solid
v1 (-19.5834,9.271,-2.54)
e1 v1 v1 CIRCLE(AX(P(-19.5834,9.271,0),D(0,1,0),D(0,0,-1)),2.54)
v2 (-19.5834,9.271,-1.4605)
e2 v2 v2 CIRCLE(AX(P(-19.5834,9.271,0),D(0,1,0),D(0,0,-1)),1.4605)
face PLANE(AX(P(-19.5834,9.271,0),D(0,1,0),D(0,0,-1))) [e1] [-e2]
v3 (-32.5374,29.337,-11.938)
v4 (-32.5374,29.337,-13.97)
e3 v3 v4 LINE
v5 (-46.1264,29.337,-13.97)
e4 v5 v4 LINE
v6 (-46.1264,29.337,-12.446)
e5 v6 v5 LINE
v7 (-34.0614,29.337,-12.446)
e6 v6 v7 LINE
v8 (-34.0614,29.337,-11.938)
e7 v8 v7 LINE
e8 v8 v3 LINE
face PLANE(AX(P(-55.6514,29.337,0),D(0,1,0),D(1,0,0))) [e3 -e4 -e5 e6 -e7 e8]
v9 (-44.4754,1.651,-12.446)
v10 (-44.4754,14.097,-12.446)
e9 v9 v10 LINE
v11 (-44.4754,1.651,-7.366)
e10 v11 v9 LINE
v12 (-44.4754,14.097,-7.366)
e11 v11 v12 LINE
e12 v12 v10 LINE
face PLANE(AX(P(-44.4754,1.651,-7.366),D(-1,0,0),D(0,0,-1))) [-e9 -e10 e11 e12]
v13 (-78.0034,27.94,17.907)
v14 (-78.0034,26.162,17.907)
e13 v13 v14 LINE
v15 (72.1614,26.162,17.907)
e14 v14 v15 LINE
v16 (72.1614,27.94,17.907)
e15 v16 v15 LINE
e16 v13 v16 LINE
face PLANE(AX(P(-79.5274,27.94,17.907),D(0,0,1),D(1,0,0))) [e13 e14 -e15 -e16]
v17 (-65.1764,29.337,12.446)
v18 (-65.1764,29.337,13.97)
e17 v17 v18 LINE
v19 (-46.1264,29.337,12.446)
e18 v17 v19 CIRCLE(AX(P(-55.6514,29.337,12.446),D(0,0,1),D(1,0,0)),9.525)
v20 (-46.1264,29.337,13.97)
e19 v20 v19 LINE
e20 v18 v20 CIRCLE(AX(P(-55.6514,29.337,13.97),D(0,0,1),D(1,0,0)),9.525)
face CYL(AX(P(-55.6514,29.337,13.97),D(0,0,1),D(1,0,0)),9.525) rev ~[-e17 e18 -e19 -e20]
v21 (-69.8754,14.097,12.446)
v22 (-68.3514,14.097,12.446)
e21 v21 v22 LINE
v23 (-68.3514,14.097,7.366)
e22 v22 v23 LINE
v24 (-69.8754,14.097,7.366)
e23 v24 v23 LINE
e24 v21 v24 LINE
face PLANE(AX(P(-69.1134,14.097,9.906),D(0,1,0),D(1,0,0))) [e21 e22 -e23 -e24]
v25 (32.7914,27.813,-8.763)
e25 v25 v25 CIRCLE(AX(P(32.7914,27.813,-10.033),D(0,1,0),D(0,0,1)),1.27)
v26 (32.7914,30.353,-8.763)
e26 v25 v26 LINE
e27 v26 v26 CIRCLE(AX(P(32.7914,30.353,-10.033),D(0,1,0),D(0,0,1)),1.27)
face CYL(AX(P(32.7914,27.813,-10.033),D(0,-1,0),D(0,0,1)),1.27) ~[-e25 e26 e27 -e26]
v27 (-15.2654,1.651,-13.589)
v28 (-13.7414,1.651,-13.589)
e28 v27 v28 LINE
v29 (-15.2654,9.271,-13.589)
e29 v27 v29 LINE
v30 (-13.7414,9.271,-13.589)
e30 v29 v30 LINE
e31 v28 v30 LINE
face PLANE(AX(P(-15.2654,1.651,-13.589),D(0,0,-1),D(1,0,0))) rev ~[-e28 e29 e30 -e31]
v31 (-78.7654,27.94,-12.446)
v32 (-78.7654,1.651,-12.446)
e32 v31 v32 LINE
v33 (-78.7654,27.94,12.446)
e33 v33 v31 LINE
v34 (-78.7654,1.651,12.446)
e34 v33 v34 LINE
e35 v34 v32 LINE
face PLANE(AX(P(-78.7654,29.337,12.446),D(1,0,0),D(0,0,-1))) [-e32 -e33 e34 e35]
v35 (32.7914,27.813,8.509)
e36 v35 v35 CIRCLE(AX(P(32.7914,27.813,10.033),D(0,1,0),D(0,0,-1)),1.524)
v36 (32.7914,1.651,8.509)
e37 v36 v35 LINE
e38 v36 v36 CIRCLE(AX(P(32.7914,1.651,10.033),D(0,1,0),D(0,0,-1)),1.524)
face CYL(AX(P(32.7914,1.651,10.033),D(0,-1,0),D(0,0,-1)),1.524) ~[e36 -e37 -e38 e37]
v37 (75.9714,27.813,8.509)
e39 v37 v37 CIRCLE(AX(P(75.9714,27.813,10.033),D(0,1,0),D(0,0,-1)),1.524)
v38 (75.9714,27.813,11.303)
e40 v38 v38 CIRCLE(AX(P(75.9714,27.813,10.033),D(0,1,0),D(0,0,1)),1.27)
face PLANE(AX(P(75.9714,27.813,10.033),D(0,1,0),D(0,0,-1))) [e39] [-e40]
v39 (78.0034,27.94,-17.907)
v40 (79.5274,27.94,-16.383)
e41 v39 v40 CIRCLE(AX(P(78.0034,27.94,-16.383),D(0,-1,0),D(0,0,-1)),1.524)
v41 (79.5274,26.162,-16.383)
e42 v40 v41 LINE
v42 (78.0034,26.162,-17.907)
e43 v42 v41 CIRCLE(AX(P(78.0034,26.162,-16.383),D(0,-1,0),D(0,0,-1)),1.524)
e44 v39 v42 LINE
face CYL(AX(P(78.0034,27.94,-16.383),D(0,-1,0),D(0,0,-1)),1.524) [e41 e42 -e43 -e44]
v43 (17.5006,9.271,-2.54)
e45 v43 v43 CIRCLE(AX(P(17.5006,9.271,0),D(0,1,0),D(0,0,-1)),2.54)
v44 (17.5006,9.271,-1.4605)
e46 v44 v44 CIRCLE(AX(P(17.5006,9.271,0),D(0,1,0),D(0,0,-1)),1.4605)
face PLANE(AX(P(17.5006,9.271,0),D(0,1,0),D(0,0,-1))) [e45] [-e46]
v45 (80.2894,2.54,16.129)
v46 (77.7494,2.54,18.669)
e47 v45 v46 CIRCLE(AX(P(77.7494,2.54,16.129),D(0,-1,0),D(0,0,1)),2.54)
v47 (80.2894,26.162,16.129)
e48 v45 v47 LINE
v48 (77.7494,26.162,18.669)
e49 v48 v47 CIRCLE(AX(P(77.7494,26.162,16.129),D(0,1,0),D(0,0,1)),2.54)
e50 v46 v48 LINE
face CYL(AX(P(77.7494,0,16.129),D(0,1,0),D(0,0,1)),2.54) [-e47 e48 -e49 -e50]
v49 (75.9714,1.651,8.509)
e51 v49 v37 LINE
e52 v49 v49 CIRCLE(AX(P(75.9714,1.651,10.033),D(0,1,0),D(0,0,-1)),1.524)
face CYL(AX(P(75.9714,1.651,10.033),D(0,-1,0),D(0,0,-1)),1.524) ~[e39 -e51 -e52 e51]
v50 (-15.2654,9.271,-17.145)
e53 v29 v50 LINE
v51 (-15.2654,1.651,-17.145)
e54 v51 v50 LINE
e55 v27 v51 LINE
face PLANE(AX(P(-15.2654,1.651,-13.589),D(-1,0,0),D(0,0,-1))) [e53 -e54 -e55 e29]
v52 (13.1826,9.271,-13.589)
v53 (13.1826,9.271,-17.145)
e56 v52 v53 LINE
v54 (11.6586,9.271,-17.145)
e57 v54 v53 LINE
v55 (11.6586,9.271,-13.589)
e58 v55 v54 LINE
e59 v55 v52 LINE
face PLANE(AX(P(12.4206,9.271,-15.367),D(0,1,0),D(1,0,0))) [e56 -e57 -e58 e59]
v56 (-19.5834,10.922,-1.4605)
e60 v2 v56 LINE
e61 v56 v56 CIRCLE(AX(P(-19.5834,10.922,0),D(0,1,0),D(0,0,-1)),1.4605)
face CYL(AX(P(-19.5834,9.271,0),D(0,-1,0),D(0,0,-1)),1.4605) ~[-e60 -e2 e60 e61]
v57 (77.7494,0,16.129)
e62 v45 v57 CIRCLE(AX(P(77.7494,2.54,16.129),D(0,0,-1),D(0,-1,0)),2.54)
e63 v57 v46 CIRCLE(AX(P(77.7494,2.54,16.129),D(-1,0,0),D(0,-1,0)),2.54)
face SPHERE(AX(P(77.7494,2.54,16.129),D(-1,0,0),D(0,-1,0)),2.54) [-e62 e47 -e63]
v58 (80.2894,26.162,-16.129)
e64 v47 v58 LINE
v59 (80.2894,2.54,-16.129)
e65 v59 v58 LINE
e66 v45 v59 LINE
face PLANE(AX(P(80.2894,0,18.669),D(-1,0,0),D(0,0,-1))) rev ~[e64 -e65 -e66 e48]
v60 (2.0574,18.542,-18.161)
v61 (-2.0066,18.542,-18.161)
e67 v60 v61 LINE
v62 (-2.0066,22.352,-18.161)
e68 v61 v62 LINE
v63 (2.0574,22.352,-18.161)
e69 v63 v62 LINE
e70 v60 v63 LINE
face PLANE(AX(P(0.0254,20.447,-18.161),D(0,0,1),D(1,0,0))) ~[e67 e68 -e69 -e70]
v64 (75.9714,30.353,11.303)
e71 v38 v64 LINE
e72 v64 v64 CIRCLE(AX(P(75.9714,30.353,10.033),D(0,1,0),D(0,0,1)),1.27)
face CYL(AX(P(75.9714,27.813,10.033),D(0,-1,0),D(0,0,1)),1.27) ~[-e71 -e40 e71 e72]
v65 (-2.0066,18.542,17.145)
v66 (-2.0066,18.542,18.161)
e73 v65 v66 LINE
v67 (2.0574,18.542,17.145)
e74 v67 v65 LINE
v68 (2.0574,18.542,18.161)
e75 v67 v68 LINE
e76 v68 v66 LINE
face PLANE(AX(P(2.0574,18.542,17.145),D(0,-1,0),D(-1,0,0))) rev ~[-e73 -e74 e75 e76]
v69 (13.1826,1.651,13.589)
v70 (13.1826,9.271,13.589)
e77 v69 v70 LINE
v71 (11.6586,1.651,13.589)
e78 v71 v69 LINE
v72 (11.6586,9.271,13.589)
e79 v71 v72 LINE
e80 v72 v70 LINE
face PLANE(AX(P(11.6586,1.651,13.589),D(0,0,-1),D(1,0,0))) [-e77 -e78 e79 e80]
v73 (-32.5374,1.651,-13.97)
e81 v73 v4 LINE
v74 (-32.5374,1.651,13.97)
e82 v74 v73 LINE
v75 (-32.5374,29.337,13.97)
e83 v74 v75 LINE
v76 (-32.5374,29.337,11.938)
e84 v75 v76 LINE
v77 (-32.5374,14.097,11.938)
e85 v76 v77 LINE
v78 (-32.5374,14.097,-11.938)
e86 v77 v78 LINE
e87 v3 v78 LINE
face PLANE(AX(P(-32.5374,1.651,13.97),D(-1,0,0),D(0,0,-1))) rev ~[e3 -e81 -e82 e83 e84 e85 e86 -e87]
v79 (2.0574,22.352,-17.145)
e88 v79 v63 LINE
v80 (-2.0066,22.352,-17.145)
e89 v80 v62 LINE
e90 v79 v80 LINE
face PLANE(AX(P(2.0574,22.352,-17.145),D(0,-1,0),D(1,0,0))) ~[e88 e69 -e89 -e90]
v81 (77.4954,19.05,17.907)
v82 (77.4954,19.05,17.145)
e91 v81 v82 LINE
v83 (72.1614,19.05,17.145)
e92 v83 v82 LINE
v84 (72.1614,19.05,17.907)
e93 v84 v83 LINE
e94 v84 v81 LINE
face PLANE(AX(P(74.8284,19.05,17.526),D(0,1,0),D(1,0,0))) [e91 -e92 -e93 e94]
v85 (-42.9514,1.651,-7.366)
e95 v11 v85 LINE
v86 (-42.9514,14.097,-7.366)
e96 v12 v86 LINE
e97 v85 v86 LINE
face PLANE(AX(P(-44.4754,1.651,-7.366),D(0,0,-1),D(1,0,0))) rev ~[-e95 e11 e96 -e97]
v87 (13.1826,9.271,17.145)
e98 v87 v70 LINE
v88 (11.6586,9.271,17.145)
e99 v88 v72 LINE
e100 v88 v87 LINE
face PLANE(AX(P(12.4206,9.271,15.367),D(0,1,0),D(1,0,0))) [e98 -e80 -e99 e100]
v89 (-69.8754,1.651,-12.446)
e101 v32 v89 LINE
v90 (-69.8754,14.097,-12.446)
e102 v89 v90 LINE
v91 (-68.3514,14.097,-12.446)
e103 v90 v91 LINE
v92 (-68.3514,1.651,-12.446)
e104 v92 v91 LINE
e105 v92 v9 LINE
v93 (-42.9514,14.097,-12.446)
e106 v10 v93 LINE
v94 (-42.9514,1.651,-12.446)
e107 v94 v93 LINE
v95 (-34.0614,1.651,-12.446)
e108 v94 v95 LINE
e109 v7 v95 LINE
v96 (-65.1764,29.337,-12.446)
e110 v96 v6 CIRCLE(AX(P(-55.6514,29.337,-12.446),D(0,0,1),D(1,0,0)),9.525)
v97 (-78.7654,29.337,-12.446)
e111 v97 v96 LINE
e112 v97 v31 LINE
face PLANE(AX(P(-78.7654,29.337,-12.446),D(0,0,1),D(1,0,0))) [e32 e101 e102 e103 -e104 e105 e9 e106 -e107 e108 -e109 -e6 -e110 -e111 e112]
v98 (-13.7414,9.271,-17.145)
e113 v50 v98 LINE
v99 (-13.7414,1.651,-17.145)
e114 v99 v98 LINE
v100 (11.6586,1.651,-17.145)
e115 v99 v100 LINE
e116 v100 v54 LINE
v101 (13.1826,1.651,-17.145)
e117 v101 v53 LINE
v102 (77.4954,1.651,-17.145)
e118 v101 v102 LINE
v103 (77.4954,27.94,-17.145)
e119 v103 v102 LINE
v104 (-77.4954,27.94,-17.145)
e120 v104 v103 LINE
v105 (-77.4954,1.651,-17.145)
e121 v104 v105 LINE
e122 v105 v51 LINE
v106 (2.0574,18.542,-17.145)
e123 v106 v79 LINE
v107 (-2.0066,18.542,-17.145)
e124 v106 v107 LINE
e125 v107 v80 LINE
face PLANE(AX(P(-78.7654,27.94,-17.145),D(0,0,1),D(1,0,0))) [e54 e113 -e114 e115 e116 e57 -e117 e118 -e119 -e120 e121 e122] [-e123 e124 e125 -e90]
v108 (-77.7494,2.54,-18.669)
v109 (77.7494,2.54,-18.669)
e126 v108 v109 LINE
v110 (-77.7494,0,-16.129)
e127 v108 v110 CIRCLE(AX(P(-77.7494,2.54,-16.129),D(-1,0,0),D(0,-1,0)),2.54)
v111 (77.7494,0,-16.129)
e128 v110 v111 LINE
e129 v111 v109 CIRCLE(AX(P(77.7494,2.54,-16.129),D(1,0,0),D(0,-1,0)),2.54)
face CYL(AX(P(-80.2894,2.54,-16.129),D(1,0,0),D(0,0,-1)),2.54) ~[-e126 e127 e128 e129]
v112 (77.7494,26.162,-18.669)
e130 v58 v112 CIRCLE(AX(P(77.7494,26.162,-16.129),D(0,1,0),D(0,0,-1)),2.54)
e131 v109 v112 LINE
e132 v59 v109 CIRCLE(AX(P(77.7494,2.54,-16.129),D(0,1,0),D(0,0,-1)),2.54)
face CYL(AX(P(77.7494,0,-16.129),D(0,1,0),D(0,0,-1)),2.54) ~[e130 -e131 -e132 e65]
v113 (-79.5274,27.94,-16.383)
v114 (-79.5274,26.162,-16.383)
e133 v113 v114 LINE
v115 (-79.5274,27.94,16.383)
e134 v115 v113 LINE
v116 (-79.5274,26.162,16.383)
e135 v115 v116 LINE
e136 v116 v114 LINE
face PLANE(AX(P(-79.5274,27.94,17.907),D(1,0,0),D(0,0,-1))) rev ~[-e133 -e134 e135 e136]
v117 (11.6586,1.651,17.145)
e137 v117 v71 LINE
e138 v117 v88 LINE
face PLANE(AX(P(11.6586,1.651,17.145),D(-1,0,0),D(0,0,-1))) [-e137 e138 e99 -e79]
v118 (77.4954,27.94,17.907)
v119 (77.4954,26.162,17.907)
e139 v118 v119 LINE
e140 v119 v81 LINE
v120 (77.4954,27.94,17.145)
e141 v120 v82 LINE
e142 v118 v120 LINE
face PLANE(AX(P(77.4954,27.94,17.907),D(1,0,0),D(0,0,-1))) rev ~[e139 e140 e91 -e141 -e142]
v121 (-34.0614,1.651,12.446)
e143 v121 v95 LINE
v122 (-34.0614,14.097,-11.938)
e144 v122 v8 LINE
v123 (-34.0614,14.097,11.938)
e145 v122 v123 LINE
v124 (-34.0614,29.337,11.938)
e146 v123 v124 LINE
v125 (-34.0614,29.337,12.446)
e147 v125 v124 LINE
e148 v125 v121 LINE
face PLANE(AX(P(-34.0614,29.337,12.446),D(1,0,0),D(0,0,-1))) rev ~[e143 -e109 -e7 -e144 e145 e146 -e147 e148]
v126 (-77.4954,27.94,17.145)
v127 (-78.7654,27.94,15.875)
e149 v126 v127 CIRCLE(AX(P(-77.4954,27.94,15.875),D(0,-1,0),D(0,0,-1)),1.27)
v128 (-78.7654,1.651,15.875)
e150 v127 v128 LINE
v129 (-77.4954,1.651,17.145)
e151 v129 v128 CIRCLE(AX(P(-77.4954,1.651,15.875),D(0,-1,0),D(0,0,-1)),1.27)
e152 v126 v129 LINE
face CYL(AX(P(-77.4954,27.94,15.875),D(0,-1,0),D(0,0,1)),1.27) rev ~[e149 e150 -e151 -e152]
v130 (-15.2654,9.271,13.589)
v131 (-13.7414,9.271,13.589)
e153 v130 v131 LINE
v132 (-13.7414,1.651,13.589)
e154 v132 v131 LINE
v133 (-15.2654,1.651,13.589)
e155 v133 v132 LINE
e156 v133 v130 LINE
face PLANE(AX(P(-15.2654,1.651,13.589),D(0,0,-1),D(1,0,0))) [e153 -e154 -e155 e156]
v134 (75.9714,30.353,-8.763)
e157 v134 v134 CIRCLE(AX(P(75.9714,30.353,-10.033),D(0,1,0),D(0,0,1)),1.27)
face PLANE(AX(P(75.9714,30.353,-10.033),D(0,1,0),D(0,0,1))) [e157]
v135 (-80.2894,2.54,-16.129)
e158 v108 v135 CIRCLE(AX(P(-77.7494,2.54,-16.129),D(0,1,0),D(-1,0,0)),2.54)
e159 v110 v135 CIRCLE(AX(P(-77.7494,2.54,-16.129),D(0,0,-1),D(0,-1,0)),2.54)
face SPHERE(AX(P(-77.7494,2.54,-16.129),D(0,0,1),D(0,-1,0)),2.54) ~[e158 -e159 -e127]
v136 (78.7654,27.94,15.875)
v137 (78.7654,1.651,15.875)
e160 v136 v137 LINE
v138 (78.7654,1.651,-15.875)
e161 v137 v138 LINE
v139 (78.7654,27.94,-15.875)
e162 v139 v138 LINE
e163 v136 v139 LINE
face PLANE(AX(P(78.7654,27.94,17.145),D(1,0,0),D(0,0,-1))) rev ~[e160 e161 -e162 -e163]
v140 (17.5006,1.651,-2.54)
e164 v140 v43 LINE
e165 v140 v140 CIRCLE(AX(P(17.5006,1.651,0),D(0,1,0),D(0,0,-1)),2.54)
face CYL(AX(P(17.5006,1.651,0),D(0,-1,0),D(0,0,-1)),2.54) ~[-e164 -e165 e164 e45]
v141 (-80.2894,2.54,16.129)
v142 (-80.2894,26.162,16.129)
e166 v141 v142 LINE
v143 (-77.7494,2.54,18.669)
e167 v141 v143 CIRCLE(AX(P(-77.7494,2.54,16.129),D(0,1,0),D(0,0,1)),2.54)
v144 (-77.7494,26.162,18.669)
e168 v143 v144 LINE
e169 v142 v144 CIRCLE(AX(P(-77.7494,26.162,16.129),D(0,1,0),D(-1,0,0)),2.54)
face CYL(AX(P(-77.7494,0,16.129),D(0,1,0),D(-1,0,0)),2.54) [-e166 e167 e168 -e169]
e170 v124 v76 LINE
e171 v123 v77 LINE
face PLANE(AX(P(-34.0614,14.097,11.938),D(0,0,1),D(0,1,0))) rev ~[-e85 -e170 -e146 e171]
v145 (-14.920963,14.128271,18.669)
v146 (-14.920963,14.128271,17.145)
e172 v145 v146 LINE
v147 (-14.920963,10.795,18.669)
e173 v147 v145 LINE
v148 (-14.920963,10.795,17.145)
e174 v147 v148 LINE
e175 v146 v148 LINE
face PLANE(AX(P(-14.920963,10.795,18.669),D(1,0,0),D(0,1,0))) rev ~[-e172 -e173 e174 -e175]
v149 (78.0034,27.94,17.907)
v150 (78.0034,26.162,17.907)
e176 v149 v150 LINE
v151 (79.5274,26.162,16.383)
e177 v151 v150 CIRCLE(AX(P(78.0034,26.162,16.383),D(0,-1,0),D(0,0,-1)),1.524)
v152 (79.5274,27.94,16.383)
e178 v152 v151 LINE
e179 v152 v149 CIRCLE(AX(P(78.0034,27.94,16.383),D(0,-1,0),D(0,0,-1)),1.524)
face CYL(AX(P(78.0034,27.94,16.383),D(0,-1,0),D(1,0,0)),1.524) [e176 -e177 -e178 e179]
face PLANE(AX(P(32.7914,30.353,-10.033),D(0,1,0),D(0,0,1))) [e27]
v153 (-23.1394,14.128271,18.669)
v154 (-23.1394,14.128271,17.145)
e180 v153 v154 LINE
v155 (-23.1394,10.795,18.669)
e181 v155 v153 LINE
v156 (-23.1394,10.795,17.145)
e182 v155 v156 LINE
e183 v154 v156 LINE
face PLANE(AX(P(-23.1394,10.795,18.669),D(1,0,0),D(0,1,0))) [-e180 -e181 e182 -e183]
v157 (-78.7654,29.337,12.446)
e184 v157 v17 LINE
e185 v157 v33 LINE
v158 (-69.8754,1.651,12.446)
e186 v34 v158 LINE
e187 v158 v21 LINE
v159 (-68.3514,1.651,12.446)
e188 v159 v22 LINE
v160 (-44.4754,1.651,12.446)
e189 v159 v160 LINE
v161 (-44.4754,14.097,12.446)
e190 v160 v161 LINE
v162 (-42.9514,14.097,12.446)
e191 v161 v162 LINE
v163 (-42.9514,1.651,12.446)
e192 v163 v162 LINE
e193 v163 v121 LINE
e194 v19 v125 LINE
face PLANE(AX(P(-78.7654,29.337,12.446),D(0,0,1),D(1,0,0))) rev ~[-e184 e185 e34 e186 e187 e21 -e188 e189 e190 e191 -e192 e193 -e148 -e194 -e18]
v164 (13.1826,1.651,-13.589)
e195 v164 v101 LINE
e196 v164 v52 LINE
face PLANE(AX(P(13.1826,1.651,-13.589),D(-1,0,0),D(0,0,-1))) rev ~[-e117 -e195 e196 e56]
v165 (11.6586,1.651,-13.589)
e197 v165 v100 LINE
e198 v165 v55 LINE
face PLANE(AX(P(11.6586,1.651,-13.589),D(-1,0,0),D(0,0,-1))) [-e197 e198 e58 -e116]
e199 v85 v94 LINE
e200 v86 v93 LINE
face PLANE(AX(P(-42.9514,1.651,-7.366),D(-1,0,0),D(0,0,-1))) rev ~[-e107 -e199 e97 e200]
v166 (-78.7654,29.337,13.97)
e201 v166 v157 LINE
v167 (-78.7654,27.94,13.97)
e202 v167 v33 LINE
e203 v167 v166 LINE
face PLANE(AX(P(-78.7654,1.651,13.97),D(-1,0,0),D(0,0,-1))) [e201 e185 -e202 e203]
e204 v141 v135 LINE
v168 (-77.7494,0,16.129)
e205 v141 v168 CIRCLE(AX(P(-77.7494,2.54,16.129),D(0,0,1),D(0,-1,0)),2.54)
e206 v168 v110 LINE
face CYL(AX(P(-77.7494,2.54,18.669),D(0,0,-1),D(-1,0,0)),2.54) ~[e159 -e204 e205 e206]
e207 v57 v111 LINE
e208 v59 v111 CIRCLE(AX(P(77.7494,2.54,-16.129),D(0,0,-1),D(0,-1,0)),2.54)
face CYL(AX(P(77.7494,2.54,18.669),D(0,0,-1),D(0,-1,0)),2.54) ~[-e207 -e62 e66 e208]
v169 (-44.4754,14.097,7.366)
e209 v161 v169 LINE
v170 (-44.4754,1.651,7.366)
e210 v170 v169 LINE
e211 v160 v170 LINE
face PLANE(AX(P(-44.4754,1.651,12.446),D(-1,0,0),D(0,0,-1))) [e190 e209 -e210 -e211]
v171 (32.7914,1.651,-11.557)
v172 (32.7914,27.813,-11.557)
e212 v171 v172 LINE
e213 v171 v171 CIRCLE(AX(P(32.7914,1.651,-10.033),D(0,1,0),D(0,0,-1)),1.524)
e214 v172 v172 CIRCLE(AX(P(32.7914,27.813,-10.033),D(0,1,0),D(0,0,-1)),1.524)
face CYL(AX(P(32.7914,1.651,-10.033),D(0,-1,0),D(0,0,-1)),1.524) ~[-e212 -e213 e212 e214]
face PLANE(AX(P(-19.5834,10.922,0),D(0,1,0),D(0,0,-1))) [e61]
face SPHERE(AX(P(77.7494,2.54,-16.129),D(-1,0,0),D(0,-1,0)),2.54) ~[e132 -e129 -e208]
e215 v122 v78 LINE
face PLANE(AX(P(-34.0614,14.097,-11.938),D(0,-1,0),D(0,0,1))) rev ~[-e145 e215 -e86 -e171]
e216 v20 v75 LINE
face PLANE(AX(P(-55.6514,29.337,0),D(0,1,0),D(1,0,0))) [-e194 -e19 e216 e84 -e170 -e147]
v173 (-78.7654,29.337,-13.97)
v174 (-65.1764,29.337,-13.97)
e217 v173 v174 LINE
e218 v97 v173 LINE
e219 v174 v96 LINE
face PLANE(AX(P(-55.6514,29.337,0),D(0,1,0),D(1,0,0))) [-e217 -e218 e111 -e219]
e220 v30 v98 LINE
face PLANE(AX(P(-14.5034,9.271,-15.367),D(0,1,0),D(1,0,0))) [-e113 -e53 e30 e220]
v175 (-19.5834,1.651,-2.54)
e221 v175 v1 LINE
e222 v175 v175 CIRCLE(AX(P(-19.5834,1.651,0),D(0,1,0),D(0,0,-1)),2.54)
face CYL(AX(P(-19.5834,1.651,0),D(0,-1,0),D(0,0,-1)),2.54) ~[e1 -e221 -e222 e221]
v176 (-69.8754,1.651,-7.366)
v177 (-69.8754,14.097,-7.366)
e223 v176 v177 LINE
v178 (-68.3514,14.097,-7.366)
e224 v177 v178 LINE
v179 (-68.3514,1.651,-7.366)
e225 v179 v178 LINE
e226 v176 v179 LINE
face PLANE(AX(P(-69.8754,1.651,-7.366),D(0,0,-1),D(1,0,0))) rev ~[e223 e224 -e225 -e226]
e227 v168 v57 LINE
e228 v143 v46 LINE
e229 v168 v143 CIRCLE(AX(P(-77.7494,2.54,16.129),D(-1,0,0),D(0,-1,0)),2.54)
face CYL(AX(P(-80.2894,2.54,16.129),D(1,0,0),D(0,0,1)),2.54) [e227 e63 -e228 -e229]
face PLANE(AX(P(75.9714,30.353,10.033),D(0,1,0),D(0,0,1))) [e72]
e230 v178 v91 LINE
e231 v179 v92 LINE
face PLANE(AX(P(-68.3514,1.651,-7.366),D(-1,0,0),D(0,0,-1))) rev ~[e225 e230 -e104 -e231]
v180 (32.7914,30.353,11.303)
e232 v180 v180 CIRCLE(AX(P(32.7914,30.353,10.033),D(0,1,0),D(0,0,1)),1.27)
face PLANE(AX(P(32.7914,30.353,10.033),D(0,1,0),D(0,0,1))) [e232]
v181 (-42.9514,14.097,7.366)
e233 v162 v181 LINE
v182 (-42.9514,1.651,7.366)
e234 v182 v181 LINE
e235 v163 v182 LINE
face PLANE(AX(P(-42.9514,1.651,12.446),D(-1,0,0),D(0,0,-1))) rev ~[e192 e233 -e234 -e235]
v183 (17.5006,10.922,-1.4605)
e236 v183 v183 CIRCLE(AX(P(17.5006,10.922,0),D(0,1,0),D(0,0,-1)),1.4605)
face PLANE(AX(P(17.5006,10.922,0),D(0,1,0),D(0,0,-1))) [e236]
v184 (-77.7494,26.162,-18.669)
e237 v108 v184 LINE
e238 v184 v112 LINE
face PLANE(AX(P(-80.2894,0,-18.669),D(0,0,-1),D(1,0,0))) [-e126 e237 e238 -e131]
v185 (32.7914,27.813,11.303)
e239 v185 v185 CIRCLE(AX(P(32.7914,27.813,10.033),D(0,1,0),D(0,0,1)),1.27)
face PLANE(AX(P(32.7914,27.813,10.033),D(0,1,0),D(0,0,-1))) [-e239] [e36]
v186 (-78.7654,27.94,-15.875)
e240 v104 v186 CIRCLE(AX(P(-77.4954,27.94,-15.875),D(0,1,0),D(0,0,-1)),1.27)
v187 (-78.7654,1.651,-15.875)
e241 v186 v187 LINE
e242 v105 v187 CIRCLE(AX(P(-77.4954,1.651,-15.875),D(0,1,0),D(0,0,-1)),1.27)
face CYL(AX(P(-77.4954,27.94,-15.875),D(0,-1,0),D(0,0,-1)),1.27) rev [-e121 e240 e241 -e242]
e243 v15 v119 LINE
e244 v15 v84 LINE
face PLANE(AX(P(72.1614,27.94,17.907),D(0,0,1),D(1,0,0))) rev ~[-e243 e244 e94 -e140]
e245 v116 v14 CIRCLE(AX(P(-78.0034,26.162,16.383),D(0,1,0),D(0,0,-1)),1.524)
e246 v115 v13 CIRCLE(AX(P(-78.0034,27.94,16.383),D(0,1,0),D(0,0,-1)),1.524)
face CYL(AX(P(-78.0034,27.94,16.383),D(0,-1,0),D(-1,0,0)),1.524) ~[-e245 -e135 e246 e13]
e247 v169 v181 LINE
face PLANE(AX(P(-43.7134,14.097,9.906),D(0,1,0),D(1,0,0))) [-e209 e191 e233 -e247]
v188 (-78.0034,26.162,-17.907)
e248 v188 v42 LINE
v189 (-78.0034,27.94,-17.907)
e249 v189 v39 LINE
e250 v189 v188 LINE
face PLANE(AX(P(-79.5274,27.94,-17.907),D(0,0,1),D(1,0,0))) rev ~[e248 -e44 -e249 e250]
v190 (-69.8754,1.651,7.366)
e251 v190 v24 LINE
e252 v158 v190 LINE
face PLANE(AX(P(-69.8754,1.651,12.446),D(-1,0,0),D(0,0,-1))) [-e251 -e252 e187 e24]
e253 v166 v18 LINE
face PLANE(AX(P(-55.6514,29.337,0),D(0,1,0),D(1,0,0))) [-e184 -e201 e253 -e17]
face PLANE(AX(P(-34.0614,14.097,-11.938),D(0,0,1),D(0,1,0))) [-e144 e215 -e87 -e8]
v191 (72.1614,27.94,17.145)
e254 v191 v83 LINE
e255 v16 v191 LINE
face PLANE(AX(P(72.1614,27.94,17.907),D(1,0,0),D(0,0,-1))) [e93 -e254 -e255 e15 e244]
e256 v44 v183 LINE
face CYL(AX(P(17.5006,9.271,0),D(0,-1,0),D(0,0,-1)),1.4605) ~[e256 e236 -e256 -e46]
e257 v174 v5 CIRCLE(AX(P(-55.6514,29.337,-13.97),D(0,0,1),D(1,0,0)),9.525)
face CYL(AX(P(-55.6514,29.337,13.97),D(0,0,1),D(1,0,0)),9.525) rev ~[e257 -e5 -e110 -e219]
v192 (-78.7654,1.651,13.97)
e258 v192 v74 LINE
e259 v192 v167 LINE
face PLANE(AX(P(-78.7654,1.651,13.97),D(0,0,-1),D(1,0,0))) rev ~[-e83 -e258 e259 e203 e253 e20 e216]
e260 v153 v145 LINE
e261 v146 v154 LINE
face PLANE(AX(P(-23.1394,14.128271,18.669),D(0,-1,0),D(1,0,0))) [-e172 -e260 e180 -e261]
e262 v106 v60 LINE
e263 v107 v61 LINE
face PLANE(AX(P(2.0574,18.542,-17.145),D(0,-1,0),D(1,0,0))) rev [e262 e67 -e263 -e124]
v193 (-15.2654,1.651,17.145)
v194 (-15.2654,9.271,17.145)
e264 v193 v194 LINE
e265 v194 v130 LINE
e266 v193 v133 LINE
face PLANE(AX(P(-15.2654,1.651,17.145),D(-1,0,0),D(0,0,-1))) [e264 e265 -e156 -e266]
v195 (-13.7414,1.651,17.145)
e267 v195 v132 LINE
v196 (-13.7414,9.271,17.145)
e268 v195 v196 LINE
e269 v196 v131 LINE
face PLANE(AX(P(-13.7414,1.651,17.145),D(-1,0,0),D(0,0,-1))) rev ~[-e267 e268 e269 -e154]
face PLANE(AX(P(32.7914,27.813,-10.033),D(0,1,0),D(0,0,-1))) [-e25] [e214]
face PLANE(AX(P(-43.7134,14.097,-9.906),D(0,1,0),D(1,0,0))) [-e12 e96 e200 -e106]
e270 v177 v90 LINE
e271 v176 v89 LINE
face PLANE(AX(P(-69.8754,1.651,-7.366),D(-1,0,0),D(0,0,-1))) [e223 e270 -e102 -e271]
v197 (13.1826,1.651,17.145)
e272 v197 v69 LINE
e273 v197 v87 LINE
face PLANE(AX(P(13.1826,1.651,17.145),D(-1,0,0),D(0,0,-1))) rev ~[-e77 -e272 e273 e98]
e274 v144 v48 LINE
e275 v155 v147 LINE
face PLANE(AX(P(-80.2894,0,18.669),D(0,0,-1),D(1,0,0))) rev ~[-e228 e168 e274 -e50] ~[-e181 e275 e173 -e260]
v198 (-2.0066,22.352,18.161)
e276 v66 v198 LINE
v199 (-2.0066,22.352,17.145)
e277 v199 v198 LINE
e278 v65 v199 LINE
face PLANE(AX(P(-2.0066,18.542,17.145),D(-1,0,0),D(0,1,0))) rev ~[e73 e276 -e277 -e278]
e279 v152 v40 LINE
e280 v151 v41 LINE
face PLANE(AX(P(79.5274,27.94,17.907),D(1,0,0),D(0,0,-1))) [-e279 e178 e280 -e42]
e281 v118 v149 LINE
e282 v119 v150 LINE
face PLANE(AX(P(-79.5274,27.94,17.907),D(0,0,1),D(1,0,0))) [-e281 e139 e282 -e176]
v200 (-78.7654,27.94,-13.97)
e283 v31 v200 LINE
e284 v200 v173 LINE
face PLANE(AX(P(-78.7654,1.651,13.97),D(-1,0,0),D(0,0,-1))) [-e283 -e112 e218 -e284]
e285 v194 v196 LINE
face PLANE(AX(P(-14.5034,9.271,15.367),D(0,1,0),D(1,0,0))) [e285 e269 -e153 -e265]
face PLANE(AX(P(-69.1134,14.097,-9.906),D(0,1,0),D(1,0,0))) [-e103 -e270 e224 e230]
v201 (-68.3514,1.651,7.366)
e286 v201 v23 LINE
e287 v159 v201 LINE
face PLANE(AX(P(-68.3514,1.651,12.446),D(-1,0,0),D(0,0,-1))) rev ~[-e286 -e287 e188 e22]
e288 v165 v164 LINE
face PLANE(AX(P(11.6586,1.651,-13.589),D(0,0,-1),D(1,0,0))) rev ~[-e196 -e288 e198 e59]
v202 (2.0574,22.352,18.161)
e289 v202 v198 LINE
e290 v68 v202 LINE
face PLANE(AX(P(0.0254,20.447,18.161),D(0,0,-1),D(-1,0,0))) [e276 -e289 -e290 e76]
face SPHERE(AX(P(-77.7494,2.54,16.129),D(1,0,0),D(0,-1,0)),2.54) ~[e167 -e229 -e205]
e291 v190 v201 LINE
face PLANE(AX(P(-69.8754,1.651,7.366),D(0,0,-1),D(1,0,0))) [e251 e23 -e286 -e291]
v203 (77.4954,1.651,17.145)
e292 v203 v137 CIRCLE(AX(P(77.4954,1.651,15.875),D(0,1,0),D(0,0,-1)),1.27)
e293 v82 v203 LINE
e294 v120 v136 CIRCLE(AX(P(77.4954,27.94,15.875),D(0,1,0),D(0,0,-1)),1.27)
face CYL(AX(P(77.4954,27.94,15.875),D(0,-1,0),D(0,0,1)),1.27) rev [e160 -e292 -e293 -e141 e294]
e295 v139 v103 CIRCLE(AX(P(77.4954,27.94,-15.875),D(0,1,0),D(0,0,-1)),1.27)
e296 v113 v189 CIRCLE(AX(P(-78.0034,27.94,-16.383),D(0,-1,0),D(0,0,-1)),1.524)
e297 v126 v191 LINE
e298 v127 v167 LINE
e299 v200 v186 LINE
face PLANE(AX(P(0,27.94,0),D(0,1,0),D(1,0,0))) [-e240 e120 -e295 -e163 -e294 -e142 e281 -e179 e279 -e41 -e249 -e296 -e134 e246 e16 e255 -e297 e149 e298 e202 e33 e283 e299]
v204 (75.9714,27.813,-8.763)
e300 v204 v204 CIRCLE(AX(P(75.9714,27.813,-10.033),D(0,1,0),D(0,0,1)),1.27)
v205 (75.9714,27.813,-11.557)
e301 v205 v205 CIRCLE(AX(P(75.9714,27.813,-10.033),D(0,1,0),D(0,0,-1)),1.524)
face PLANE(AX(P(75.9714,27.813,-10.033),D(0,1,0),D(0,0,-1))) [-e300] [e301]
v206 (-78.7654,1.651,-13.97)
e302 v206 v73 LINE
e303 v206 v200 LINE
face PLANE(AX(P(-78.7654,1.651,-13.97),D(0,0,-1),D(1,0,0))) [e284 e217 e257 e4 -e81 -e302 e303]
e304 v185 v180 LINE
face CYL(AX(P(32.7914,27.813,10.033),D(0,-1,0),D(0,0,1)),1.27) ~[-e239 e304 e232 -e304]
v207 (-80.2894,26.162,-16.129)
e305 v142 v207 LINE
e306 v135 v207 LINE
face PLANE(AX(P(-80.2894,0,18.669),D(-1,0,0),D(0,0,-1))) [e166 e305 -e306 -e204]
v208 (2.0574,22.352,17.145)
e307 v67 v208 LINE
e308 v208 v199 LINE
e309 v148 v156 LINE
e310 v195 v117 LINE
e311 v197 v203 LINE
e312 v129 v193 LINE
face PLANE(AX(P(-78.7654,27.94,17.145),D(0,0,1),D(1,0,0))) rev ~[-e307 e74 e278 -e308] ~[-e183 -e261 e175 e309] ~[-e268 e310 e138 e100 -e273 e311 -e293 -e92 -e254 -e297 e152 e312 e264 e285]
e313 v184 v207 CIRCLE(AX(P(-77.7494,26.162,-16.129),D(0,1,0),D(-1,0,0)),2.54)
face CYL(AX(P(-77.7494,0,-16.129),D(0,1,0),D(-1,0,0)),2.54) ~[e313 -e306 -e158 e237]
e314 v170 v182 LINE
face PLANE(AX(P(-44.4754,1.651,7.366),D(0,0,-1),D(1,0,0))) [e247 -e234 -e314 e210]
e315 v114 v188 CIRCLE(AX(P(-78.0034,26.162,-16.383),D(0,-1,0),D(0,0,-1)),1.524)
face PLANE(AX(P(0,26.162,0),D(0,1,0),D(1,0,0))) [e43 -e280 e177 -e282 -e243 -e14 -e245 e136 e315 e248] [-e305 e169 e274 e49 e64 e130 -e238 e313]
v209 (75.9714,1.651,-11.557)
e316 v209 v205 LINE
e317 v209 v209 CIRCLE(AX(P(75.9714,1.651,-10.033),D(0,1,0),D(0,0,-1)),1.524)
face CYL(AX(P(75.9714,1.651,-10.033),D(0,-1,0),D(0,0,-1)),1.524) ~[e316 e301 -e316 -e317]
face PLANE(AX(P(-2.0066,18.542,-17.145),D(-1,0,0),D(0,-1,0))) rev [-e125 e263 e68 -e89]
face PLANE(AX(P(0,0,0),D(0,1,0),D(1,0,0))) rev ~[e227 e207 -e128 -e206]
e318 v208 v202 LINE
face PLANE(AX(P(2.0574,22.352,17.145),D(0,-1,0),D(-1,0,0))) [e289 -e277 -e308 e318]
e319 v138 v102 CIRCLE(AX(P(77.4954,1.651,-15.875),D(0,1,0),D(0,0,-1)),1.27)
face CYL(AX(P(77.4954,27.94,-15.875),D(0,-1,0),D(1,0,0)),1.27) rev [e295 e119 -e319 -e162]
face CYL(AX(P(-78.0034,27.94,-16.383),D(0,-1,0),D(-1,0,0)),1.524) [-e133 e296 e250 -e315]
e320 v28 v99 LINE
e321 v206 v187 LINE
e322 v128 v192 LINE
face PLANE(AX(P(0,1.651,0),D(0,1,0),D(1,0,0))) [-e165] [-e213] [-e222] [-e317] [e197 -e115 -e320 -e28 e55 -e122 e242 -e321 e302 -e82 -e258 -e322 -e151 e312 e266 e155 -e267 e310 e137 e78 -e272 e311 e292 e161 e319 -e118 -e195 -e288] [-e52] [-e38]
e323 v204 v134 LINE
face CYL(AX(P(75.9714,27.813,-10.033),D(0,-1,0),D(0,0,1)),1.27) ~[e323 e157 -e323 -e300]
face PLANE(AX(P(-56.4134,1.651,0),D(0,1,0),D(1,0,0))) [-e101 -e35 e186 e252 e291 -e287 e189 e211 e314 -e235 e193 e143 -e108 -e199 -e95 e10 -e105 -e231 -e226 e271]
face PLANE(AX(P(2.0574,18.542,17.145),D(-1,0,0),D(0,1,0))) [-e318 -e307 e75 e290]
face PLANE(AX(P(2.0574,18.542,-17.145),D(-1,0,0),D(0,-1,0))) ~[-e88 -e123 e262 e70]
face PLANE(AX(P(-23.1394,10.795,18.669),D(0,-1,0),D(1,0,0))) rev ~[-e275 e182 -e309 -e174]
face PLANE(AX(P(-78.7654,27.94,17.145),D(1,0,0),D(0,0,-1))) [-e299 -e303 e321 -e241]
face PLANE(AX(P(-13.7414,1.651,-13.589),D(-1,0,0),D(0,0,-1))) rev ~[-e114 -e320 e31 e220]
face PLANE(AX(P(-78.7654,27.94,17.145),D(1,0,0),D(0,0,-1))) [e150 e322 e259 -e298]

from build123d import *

# Parameters (mm, degrees)
SKETCH1_W            = 160.5788
SKETCH1_H            = 37.338
BOSS_EXTRUDE1_DEPTH  = 27.94
SKETCH2_W            = 157.5308
SKETCH2_H            = 34.29
CUT_EXTRUDE3_DEPTH   = 26.289
FILLET1_R            = 2.54
FILLET2_R            = 1.27
SKETCH3_W            = 46.228
SKETCH3_H            = 27.94
BOSS_EXTRUDE2_DEPTH  = 27.686
SKETCH8_W            = 44.704
SKETCH8_H            = 24.892
CUT_EXTRUDE6_DEPTH   = 27.686
CUT_EXTRUDE5_REACH   = 93.501
SKETCH7_R            = 9.525
CUT_EXTRUDE7_REACH   = 121.521
SKETCH9_W            = 23.876
SKETCH9_H            = 15.24
SKETCH10_R           = 2.54
SKETCH10_W           = 1.524
SKETCH10_H           = 3.556
BOSS_EXTRUDE5_DEPTH  = 7.62
SKETCH11_R           = 1.4605
BOSS_EXTRUDE6_DEPTH  = 1.651
CUT_EXTRUDE8_REACH   = 95.28
SKETCH12_W           = 8.218436834
SKETCH12_H           = 3.333271446
SKETCH13_R           = 1.524
BOSS_EXTRUDE7_DEPTH  = 26.162
SKETCH14_R           = 1.27
BOSS_EXTRUDE8_DEPTH  = 2.54
SKETCH15_W           = 1.524
SKETCH15_H           = 5.08
BOSS_EXTRUDE9_DEPTH  = 12.446
SKETCH16_OUTSIDE_W   = 196.104
SKETCH16_OUTSIDE_H   = 72.864
SKETCH16_OUTSIDE_W_2 = 159.0548
SKETCH16_OUTSIDE_H_2 = 35.814
CUT_EXTRUDE9_DEPTH   = 1.778
FILLET3_R            = 1.524
SKETCH17_W           = 5.334
SKETCH17_H           = 0.762
CUT_EXTRUDE10_DEPTH  = 8.89
SKETCH18_W           = 4.064
SKETCH18_H           = 3.81
CUT_EXTRUDE11_DEPTH  = 1.016


with BuildPart() as part:
    # Sketch1 → Boss-Extrude1 (new body)
    with BuildSketch(Plane(origin=(0, 0, 0), x_dir=(1, 0, 0), z_dir=(0, 1, 0))):
        Rectangle(SKETCH1_W, SKETCH1_H)
    extrude(amount=BOSS_EXTRUDE1_DEPTH)

    # Sketch2 → Cut-Extrude3 (cut)
    with BuildSketch(Plane(origin=(0, 27.94, 0), x_dir=(1, 0, 0), z_dir=(0, 1, 0))):
        Rectangle(SKETCH2_W, SKETCH2_H)
    extrude(amount=-CUT_EXTRUDE3_DEPTH, mode=Mode.SUBTRACT)

    # Fillet1
    fillet1_edges = [part.edges().sort_by_distance(p)[0] for p in [
        (0, 0, 18.669),
        (-80.2894, 0, 0),
        (0, 0, -18.669),
        (80.2894, 0, 0),
        (80.2894, 13.97, 18.669),
        (-80.2894, 13.97, 18.669),
        (-80.2894, 13.97, -18.669),
        (80.2894, 13.97, -18.669),
    ]]
    fillet(fillet1_edges, radius=FILLET1_R)

    # Fillet2
    fillet2_edges = [part.edges().sort_by_distance(p)[0] for p in [
        (-78.7654, 14.7955, -17.145),
        (-78.7654, 14.7955, 17.145),
        (78.7654, 14.7955, 17.145),
        (78.7654, 14.7955, -17.145),
    ]]
    fillet(fillet2_edges, radius=FILLET2_R)

    # Sketch3 → Boss-Extrude2 (add)
    with BuildSketch(Plane(origin=(0, 1.651, 0), x_dir=(1, 0, 0), z_dir=(0, 1, 0))):
        with Locations((-55.6514, 0)):
            Rectangle(SKETCH3_W, SKETCH3_H)
    extrude(amount=BOSS_EXTRUDE2_DEPTH)

    # Sketch8 → Cut-Extrude6 (cut)
    with BuildSketch(Plane(origin=(0, 29.337, 0), x_dir=(1, 0, 0), z_dir=(0, 1, 0))):
        with Locations((-56.4134, 0)):
            Rectangle(SKETCH8_W, SKETCH8_H)
    extrude(amount=-CUT_EXTRUDE6_DEPTH, mode=Mode.SUBTRACT)

    # Cut-Extrude5: up to this face of the body (flat: up to its plane)
    cut_extrude5_end = Plane(part.part.faces().sort_by_distance((-55.6514, 15.494, -13.97))[0])
    # Sketch7 → Cut-Extrude5 (cut, up to the picked face)
    with BuildSketch(Plane.XY.offset(13.97), mode=Mode.PRIVATE) as cut_extrude5_sk1:
        with Locations((-55.6514, 29.337)):
            Circle(SKETCH7_R)
    cut_extrude5_tool1 = split(extrude(cut_extrude5_sk1.sketch, amount=-CUT_EXTRUDE5_REACH, mode=Mode.PRIVATE), bisect_by=cut_extrude5_end, keep=Keep.BOTH, mode=Mode.PRIVATE)
    add(cut_extrude5_tool1.solids().sort_by(Axis((-55.6514, 29.337, 13.97), (0, 0, -1)))[0], mode=Mode.SUBTRACT)

    # Sketch9 → Cut-Extrude7 (cut, up to next)
    with BuildSketch(Plane.ZY.offset(34.0614), mode=Mode.PRIVATE) as cut_extrude7_sk1:
        with Locations((0, 21.717)):
            Rectangle(SKETCH9_W, SKETCH9_H)
    cut_extrude7_tool1 = extrude(cut_extrude7_sk1.sketch, amount=-CUT_EXTRUDE7_REACH, mode=Mode.PRIVATE) & part.part
    add(cut_extrude7_tool1.solids().sort_by_distance((-34.0614, 21.717, 0))[0], mode=Mode.SUBTRACT)

    # Sketch10 → Boss-Extrude5 (add)
    with BuildSketch(Plane(origin=(0, 1.651, 0), x_dir=(1, 0, 0), z_dir=(0, 1, 0))):
        with Locations(Location((-19.5834, 0, 0), (0, 0, 90))):
            Circle(SKETCH10_R)
        with Locations(Location((17.5006, 0, 0), (0, 0, 90))):
            Circle(SKETCH10_R)
        with Locations((-14.5034, 15.367)):
            Rectangle(SKETCH10_W, SKETCH10_H)
        with Locations((12.4206, 15.367)):
            Rectangle(SKETCH10_W, SKETCH10_H)
        with Locations((-14.5034, -15.367)):
            Rectangle(SKETCH10_W, SKETCH10_H)
        with Locations((12.4206, -15.367)):
            Rectangle(SKETCH10_W, SKETCH10_H)
    extrude(amount=BOSS_EXTRUDE5_DEPTH)

    # Sketch11 → Boss-Extrude6 (add)
    with BuildSketch(Plane(origin=(0, 9.271, 0), x_dir=(1, 0, 0), z_dir=(0, 1, 0))):
        with Locations(Location((17.5006, 0, 0), (0, 0, 90))):
            Circle(SKETCH11_R)
        with Locations(Location((-19.5834, 0, 0), (0, 0, 90))):
            Circle(SKETCH11_R)
    extrude(amount=BOSS_EXTRUDE6_DEPTH)

    # Sketch12 → Cut-Extrude8 (cut, up to next)
    with BuildSketch(Plane.XY.offset(18.669), mode=Mode.PRIVATE) as cut_extrude8_sk1:
        with Locations((-19.030181583, 12.461635723)):
            Rectangle(SKETCH12_W, SKETCH12_H)
    cut_extrude8_tool1 = extrude(cut_extrude8_sk1.sketch, amount=-CUT_EXTRUDE8_REACH, mode=Mode.PRIVATE) & part.part
    add(cut_extrude8_tool1.solids().sort_by_distance((-19.030182, 12.461636, 18.669))[0], mode=Mode.SUBTRACT)

    # Sketch13 → Boss-Extrude7 (add)
    with BuildSketch(Plane(origin=(0, 1.651, 0), x_dir=(1, 0, 0), z_dir=(0, 1, 0))):
        with Locations(Location((32.7914, 10.033, 0), (0, 0, 90))):
            Circle(SKETCH13_R)
        with Locations(Location((75.9714, 10.033, 0), (0, 0, 90))):
            Circle(SKETCH13_R)
        with Locations(Location((75.9714, -10.033, 0), (0, 0, 90))):
            Circle(SKETCH13_R)
        with Locations(Location((32.7914, -10.033, 0), (0, 0, 90))):
            Circle(SKETCH13_R)
    extrude(amount=BOSS_EXTRUDE7_DEPTH)

    # Sketch14 → Boss-Extrude8 (add)
    with BuildSketch(Plane(origin=(0, 27.813, 0), x_dir=(1, 0, 0), z_dir=(0, 1, 0))):
        with Locations(Location((32.7914, 10.033, 0), (0, 0, 270))):
            Circle(SKETCH14_R)
        with Locations(Location((32.7914, -10.033, 0), (0, 0, 270))):
            Circle(SKETCH14_R)
        with Locations(Location((75.9714, -10.033, 0), (0, 0, 270))):
            Circle(SKETCH14_R)
        with Locations(Location((75.9714, 10.033, 0), (0, 0, 270))):
            Circle(SKETCH14_R)
    extrude(amount=BOSS_EXTRUDE8_DEPTH)

    # Sketch15 → Boss-Extrude9 (add)
    with BuildSketch(Plane(origin=(0, 1.651, 0), x_dir=(1, 0, 0), z_dir=(0, 1, 0))):
        with Locations((-43.7134, 9.906)):
            Rectangle(SKETCH15_W, SKETCH15_H)
        with Locations((-43.7134, -9.906)):
            Rectangle(SKETCH15_W, SKETCH15_H)
        with Locations((-69.1134, 9.906)):
            Rectangle(SKETCH15_W, SKETCH15_H)
        with Locations((-69.1134, -9.906)):
            Rectangle(SKETCH15_W, SKETCH15_H)
    extrude(amount=BOSS_EXTRUDE9_DEPTH)

    # Sketch16 outside → Cut-Extrude9 (cut)
    with BuildSketch(Plane(origin=(0, 27.94, 0), x_dir=(1, 0, 0), z_dir=(0, 1, 0))):
        Rectangle(SKETCH16_OUTSIDE_W, SKETCH16_OUTSIDE_H)
        Rectangle(SKETCH16_OUTSIDE_W_2, SKETCH16_OUTSIDE_H_2, mode=Mode.SUBTRACT)
    extrude(amount=-CUT_EXTRUDE9_DEPTH, mode=Mode.SUBTRACT)

    # Fillet3
    fillet3_edges = [part.edges().sort_by_distance(p)[0] for p in [
        (-79.5274, 27.051, -17.907),
        (79.5274, 27.051, -17.907),
        (79.5274, 27.051, 17.907),
        (-79.5274, 27.051, 17.907),
    ]]
    fillet(fillet3_edges, radius=FILLET3_R)

    # Sketch17 → Cut-Extrude10 (cut)
    with BuildSketch(Plane(origin=(0, 27.94, 0), x_dir=(1, 0, 0), z_dir=(0, 1, 0))):
        with Locations((74.8284, -17.526)):
            Rectangle(SKETCH17_W, SKETCH17_H)
    extrude(amount=-CUT_EXTRUDE10_DEPTH, mode=Mode.SUBTRACT)

    # Sketch18 → Cut-Extrude11 (cut)
    with BuildSketch(Plane(origin=(0, 0, 17.145), x_dir=(-1, 0, 0), z_dir=(0, 0, -1))):
        with Locations((-0.0254, 20.447)):
            Rectangle(SKETCH18_W, SKETCH18_H)
    cut_extrude11 = extrude(amount=-CUT_EXTRUDE11_DEPTH, mode=Mode.SUBTRACT)

    # Mirror1: Cut-Extrude11 across plane
    add(cut_extrude11.mirror(Plane.XY), mode=Mode.SUBTRACT)


solid = part.part
